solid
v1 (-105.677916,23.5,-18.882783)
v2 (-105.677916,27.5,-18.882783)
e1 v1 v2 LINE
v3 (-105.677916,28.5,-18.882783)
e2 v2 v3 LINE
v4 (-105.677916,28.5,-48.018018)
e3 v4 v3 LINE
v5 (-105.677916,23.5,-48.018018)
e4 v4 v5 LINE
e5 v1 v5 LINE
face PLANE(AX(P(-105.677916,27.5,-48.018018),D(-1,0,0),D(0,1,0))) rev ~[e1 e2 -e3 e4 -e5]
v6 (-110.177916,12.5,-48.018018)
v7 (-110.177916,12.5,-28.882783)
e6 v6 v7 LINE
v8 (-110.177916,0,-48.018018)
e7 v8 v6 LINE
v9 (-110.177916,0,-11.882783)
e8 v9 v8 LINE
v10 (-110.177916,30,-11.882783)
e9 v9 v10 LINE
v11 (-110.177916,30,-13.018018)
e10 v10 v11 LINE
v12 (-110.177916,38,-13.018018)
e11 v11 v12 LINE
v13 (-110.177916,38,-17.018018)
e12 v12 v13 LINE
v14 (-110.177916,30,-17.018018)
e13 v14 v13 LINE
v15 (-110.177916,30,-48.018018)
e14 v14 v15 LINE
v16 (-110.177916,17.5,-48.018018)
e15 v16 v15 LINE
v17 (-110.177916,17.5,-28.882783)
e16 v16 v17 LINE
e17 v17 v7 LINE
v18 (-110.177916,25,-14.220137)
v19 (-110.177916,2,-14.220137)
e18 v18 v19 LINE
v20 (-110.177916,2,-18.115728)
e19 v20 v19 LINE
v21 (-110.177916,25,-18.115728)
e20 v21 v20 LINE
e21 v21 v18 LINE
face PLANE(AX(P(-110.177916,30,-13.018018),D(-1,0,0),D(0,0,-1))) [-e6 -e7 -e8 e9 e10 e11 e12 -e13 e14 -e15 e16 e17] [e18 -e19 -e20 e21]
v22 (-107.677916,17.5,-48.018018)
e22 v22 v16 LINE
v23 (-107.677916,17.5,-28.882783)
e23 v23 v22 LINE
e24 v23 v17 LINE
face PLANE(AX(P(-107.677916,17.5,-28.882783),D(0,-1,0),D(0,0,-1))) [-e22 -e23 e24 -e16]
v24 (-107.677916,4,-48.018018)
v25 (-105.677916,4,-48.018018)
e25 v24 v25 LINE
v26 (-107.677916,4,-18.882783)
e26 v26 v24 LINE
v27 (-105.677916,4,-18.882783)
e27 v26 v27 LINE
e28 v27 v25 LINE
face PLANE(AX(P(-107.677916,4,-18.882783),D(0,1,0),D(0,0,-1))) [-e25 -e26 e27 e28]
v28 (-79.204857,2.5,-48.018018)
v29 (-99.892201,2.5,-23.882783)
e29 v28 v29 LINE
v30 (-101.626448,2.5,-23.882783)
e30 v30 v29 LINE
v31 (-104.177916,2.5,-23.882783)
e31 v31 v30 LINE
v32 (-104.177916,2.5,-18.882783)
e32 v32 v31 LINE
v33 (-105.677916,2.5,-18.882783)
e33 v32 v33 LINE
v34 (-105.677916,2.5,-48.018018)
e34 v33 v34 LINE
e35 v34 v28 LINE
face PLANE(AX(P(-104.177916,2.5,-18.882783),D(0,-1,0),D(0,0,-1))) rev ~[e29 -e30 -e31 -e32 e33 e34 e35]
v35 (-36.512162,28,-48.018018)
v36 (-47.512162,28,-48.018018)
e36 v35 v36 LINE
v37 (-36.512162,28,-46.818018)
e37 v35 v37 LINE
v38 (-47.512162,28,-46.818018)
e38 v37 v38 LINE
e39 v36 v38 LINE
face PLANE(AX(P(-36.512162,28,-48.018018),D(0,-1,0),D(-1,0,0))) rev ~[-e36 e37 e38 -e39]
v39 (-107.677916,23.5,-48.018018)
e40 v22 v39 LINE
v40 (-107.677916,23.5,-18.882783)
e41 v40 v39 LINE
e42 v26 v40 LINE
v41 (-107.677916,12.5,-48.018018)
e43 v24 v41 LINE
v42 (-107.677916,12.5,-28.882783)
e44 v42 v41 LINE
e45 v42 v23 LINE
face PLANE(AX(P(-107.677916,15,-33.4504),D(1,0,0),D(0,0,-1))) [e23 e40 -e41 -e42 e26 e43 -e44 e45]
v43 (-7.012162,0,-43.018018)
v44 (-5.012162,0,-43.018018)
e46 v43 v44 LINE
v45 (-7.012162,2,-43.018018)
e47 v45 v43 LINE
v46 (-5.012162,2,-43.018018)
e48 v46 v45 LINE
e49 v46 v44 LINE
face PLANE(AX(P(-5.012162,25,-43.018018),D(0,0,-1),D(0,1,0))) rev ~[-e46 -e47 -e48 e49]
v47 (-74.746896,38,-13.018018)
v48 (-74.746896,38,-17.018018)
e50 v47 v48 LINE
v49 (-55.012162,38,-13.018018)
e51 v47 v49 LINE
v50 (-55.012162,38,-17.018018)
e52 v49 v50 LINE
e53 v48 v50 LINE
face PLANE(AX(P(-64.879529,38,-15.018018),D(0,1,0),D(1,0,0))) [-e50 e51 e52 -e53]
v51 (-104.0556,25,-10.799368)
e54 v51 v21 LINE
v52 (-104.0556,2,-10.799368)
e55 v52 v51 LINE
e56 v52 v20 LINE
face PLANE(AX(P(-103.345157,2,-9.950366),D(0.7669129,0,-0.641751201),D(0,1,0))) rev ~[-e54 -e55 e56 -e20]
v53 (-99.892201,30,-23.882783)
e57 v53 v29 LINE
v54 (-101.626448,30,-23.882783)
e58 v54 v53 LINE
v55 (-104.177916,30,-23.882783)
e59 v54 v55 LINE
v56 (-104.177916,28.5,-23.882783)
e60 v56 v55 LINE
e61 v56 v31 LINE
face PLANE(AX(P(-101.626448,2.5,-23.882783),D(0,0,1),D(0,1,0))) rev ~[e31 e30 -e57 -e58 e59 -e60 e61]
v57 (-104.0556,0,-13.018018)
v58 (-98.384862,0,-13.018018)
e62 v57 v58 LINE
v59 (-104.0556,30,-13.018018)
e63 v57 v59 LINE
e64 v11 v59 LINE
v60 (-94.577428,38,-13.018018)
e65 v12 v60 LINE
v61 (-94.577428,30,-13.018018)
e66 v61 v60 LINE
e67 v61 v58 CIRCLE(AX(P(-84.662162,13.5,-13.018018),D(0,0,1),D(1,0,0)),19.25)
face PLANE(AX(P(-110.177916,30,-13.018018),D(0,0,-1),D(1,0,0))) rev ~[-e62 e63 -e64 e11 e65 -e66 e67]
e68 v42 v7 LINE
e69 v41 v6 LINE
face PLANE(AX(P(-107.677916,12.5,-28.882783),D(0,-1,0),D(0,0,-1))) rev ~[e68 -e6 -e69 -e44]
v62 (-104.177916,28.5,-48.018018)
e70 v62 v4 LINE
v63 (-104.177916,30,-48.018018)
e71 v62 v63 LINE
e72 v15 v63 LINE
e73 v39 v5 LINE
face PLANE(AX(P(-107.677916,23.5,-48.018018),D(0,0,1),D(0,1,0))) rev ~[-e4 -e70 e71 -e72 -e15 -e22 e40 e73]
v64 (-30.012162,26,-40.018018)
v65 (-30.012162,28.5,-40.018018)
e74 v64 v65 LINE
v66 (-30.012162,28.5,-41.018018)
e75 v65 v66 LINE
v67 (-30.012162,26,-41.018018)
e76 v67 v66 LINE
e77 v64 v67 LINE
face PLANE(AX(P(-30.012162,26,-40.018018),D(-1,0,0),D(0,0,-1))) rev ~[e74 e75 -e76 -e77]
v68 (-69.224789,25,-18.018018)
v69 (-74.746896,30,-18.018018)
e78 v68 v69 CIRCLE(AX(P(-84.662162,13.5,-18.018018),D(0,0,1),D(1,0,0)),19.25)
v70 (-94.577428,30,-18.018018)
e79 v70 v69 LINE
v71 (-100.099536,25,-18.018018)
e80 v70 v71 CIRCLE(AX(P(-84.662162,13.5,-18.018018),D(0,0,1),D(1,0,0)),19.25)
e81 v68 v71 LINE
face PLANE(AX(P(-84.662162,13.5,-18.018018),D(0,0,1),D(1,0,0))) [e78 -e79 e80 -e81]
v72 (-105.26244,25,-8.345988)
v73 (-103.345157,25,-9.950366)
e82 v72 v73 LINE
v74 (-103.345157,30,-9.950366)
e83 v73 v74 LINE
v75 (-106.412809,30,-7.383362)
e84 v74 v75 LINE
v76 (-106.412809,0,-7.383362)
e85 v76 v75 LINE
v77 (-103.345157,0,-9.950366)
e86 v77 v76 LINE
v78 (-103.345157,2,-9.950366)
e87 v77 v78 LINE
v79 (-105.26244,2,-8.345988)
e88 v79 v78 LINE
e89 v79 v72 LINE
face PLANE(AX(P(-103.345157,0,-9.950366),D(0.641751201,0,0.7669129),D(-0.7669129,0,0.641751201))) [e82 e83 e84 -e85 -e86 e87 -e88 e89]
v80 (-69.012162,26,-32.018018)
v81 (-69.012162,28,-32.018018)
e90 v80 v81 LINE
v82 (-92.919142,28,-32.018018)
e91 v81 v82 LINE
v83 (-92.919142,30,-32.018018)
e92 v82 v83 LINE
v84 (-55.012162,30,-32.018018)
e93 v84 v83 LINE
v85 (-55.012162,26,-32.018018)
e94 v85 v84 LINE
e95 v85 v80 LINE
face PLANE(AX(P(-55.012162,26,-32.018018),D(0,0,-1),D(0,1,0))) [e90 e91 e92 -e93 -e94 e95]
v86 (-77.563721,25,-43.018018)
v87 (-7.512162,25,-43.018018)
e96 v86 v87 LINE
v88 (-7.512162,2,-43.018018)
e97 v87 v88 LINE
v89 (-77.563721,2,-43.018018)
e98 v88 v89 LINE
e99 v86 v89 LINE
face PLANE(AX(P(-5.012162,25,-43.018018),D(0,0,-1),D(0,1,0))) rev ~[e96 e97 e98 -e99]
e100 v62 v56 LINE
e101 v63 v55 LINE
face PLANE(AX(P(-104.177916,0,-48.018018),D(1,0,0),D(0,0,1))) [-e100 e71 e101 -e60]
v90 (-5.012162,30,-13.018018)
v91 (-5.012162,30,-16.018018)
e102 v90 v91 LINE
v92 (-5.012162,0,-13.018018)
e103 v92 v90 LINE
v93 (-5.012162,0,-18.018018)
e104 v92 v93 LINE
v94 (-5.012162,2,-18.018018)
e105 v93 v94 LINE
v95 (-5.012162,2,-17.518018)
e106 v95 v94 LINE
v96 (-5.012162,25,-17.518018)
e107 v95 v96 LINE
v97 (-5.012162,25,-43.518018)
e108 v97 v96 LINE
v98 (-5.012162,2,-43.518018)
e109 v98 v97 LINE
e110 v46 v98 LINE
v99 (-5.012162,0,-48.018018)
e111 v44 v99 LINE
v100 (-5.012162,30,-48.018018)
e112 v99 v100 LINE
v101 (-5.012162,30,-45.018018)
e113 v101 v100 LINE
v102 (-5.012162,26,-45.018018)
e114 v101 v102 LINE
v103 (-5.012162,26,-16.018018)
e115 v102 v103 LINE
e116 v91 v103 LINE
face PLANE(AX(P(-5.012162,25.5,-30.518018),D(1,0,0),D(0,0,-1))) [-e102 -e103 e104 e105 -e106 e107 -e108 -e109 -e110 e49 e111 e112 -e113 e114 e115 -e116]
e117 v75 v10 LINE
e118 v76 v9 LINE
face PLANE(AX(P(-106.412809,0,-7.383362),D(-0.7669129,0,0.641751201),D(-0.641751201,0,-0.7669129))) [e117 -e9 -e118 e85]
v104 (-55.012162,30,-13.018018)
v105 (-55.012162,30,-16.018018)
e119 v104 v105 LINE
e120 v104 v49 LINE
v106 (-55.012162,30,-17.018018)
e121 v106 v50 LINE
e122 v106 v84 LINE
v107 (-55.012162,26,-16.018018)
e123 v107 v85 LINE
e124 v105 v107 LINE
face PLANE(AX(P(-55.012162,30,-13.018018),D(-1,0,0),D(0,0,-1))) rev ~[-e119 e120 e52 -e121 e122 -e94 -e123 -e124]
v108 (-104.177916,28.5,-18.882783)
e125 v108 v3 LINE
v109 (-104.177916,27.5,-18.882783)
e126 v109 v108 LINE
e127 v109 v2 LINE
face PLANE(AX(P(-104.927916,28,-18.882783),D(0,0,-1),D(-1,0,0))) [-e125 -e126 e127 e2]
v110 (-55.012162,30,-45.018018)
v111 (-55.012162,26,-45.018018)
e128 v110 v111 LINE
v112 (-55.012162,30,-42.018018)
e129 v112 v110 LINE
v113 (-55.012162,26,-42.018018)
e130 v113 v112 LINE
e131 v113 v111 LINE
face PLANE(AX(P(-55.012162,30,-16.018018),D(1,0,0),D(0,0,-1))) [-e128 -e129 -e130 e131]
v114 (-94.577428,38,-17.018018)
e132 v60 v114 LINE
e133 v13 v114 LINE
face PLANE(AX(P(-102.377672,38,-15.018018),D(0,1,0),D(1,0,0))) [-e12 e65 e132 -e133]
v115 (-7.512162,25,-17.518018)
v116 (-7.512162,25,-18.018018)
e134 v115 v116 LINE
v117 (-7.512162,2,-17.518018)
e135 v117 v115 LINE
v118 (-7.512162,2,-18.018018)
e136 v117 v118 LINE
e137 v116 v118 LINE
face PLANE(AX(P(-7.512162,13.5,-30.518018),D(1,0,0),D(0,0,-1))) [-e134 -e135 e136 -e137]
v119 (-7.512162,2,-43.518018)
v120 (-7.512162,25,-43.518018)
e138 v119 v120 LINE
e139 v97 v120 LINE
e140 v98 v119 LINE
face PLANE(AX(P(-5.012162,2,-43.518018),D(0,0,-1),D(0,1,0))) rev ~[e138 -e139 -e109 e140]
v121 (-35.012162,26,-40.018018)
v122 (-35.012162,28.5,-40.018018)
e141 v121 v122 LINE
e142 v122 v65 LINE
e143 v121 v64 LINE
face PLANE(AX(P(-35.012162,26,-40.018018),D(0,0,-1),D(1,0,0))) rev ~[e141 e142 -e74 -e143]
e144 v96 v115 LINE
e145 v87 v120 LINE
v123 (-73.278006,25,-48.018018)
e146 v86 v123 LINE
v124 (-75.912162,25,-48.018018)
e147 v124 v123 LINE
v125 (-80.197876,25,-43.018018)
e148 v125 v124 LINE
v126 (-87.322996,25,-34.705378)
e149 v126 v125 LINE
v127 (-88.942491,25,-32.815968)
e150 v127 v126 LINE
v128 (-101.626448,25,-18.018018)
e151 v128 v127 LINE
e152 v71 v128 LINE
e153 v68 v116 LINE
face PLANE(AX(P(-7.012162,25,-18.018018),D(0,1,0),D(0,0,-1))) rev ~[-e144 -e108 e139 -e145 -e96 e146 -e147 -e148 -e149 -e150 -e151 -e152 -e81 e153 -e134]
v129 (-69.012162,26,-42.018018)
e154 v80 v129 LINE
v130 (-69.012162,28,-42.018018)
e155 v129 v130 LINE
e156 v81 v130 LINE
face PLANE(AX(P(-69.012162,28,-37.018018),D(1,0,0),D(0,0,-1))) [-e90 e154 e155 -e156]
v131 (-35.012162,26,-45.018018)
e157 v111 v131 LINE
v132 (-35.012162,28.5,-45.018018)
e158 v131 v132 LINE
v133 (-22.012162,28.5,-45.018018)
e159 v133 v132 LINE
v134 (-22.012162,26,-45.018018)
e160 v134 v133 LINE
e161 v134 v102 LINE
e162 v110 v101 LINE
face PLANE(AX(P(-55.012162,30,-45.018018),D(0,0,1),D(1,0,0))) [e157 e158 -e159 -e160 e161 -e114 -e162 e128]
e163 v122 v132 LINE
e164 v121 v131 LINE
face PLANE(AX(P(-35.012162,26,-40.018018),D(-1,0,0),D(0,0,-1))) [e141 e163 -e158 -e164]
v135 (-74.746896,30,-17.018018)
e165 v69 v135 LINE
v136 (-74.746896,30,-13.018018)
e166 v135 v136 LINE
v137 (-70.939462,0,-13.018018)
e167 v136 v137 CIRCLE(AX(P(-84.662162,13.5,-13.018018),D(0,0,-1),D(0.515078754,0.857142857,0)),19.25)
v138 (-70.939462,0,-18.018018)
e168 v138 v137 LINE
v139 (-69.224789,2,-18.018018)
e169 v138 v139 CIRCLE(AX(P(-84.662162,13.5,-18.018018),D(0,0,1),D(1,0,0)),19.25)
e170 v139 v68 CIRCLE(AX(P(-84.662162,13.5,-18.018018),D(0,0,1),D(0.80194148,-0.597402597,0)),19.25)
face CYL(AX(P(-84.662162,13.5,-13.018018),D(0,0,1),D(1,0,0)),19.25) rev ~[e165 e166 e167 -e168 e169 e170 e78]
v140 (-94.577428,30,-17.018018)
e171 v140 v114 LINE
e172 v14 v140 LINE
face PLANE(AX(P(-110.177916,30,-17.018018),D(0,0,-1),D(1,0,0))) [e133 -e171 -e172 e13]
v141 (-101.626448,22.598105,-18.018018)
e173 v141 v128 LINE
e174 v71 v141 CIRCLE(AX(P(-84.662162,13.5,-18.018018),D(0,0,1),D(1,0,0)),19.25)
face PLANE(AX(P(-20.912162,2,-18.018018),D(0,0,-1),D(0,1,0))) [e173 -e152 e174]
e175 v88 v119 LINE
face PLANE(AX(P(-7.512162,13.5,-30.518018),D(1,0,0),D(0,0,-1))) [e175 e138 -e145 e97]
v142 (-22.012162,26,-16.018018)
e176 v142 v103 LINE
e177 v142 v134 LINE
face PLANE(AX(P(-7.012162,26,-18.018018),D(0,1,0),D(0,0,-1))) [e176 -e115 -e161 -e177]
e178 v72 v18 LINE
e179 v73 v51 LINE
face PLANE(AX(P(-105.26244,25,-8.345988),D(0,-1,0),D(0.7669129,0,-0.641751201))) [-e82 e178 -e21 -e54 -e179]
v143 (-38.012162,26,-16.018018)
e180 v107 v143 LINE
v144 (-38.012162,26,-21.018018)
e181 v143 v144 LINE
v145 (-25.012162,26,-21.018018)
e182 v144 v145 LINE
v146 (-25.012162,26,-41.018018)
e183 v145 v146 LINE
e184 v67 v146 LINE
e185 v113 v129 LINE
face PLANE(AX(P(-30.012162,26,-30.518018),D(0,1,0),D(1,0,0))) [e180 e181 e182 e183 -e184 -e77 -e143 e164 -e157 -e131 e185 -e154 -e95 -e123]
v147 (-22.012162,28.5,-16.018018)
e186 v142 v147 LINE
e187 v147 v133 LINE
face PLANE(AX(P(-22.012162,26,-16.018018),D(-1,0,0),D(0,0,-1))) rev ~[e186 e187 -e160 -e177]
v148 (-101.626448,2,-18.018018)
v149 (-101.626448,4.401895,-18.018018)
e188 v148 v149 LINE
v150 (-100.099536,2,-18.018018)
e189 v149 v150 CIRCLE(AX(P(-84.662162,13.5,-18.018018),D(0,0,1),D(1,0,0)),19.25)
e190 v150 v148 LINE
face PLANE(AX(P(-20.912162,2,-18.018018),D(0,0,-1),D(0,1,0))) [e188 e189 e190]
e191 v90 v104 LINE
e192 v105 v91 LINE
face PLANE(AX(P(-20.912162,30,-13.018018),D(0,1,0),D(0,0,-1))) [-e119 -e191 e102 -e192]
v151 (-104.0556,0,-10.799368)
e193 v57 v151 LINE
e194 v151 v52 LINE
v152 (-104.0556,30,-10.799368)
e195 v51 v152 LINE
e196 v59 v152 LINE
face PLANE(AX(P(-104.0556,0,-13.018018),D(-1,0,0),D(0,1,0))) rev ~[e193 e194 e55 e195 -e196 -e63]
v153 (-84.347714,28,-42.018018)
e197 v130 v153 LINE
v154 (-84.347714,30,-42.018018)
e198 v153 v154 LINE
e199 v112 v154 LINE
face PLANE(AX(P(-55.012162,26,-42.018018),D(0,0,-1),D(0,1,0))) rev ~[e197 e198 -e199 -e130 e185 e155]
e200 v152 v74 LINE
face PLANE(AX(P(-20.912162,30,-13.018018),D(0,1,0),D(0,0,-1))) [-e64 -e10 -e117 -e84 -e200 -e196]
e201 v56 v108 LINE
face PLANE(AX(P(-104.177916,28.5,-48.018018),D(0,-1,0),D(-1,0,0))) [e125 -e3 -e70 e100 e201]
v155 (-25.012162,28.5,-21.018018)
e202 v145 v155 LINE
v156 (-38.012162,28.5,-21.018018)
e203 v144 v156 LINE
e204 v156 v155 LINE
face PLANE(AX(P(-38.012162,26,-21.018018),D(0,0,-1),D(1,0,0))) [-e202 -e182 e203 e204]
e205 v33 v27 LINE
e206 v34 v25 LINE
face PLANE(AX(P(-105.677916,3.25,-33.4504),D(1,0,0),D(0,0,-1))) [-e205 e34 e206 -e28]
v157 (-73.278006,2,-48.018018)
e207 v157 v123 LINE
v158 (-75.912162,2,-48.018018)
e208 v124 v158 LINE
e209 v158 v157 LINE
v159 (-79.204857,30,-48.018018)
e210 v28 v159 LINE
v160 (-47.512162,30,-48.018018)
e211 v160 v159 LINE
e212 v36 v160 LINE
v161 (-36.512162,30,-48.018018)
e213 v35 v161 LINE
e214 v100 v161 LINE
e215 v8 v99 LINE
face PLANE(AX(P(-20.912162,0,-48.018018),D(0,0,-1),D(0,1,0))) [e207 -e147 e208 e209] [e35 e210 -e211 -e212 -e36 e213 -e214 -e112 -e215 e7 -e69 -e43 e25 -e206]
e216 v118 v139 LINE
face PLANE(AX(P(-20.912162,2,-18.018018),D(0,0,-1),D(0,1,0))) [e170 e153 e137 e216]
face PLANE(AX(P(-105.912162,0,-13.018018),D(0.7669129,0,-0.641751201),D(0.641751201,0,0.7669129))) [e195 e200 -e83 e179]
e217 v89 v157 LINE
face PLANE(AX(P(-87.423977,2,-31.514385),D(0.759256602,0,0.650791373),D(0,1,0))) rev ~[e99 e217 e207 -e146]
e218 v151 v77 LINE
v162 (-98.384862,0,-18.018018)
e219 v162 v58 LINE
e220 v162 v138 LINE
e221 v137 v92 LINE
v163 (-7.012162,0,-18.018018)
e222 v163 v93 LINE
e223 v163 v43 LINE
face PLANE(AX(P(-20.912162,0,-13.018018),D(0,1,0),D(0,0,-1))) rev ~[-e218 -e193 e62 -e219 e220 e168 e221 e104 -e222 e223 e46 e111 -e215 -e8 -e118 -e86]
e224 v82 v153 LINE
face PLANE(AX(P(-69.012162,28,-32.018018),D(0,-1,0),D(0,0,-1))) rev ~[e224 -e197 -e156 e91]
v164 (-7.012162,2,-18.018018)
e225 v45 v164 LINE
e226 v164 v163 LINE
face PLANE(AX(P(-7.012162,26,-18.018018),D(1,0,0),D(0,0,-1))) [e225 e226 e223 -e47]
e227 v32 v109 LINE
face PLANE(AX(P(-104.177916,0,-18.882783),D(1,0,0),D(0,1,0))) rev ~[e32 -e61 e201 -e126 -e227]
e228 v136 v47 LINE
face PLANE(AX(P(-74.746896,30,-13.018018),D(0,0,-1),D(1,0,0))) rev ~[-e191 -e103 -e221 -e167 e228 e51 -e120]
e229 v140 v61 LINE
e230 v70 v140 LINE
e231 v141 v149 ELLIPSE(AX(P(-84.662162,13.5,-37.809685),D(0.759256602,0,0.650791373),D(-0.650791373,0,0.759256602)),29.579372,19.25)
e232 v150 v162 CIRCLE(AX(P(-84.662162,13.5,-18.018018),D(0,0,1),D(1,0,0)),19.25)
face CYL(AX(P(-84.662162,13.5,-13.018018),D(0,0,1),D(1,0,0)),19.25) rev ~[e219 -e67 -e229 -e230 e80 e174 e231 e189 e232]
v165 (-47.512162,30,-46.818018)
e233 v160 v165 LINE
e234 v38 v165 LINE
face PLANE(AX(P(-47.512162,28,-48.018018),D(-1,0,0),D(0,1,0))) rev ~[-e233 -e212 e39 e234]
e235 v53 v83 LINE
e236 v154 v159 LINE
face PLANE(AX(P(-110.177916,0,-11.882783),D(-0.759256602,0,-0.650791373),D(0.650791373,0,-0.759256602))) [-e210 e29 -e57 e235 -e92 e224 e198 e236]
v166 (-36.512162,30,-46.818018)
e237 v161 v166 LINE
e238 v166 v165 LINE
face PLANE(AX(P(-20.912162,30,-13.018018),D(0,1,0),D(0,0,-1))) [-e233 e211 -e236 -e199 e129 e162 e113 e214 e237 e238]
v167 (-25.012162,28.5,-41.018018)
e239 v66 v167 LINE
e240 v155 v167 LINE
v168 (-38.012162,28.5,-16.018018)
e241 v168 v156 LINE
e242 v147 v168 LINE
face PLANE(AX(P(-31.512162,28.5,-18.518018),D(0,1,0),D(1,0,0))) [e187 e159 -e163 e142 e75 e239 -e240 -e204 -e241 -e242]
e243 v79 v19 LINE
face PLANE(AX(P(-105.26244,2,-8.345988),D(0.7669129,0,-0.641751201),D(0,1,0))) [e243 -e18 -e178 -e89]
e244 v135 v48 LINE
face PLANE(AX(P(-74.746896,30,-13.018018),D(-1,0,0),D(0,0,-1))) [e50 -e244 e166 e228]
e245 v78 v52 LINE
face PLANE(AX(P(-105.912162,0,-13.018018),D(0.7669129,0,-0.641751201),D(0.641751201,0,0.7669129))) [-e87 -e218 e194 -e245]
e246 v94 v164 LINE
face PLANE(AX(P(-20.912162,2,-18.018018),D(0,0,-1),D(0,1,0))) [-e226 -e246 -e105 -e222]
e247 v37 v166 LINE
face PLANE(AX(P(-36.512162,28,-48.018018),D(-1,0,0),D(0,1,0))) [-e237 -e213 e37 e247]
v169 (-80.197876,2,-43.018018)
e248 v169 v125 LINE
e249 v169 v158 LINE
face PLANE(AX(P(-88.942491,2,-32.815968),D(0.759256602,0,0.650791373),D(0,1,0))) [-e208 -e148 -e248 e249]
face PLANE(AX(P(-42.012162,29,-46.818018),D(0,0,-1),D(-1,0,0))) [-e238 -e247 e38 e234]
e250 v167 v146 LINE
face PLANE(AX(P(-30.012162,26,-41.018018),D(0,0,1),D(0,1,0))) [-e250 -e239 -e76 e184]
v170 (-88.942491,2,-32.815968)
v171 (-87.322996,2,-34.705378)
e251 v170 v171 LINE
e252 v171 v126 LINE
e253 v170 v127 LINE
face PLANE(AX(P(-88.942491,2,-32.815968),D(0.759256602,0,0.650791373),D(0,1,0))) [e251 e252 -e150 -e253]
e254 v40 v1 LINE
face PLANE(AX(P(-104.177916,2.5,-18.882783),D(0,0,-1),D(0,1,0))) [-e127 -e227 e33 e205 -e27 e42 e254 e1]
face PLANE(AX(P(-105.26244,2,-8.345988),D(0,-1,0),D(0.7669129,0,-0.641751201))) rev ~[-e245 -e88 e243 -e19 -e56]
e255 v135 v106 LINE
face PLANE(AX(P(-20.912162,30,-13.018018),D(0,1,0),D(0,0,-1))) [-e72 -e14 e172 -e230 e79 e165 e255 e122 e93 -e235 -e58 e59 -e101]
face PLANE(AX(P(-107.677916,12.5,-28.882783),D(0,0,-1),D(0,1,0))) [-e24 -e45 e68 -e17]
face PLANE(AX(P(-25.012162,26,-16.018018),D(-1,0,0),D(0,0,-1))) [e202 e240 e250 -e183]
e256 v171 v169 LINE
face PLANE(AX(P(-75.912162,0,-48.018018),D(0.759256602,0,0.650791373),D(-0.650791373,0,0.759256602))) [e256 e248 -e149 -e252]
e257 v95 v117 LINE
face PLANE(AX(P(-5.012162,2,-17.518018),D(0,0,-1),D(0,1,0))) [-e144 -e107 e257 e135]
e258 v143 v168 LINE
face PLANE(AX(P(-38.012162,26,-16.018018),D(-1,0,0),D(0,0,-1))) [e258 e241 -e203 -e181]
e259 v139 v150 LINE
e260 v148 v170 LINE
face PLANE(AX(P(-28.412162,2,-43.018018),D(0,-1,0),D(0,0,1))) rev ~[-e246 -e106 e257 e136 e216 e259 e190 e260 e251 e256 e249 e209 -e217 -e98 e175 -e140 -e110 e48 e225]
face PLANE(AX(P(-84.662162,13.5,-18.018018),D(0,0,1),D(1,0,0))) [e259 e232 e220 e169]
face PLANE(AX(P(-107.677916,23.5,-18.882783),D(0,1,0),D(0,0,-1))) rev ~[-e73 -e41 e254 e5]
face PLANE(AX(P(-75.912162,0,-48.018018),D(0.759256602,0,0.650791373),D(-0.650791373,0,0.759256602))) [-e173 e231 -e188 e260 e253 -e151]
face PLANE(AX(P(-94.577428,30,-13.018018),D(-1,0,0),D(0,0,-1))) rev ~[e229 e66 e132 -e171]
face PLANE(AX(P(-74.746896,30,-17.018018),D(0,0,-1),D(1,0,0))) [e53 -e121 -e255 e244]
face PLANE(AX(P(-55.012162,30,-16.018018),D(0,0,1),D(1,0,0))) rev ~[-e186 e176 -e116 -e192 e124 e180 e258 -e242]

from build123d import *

# Parameters (mm, degrees)
BOSS_EXTRUDE3_DEPTH       = 30
SKETCH6_W                 = 25
SKETCH6_H                 = 23
CUT_EXTRUDE1_DEPTH        = 86
SKETCH7_W                 = 25
SKETCH7_H                 = 5
CUT_EXTRUDE2_DEPTH        = 7.5
SKETCH8_W                 = 25
SKETCH8_H                 = 2
CUT_EXTRUDE3_DEPTH        = 1
SKETCH9_R                 = 19.25
CUT_EXTRUDE4_DEPTH        = 5
BOSS_EXTRUDE4_DEPTH       = 30
SKETCH10_W                = 1.856561782
SKETCH10_H                = 30
BOSS_EXTRUDE5_DEPTH       = 3
BOSS_EXTRUDE6_DEPTH       = 30
SKETCH11_W                = 2.5
SKETCH11_H                = 23
CUT_EXTRUDE5_DEPTH        = 34.579503854
SKETCH12_W                = 29.135235428
SKETCH12_H                = 25
CUT_EXTRUDE6_DEPTH        = 3.5
SKETCH13_W                = 19.135235428
SKETCH13_H                = 5
CUT_EXTRUDE7_DEPTH        = 3.5
SKETCH14_W                = 29.135235428
SKETCH14_H                = 4
BOSS_EXTRUDE7_DEPTH       = 2
SKETCH16_W                = 29.135235428
SKETCH16_H                = 1.5
BOSS_EXTRUDE8_DEPTH       = 2
SKETCH17_W                = 2.551467674
SKETCH17_H                = 30
BOSS_EXTRUDE9_DEPTH       = 5
BOSS_EXTRUDE10_REACH      = 85.266
SKETCH18_W                = 29.135235428
SKETCH18_H                = 2.5
SKETCH19_W                = 2.48850009
SKETCH19_H                = 23
BOSS_EXTRUDE11_DEPTH      = 2
CUT_EXTRUDE8_START        = -2.4885
SKETCH20_W                = 2
SKETCH20_H                = 23
CUT_EXTRUDE8_DEPTH        = 21.736568
BOSS_EXTRUDE12_REACH      = 82.714
SKETCH21_W                = 2.023287715
SKETCH21_H                = 27.5
SKETCH22_W                = 35
SKETCH22_H                = 30
BOSS_EXTRUDE13_DEPTH      = 15.9
BOSS_EXTRUDE13_DEPTH_BACK = 7.5
SKETCH23_W                = 25
SKETCH23_H                = 23
CUT_EXTRUDE9_DEPTH        = 24.4
SKETCH24_W                = 25
SKETCH24_H                = 5
CUT_EXTRUDE10_DEPTH       = 2
SKETCH25_W                = 50
SKETCH25_H                = 29
CUT_EXTRUDE11_DEPTH       = 4
SKETCH26_W                = 3
SKETCH26_H                = 29
BOSS_EXTRUDE14_DEPTH      = 2.5
SKETCH27_W                = 5
SKETCH27_H                = 5
BOSS_EXTRUDE15_DEPTH      = 2.5
BOSS_EXTRUDE16_REACH      = 27
SKETCH28_W                = 4
SKETCH28_H                = 2.5
SKETCH29_W                = 13
SKETCH29_H                = 5
BOSS_EXTRUDE17_DEPTH      = 2.5
SKETCH30_W                = 10
SKETCH30_H                = 4
CUT_EXTRUDE12_DEPTH       = 14
CUT_EXTRUDE13_REACH       = 43.166
SKETCH31_W                = 10
SKETCH31_H                = 2
SKETCH32_W                = 2
SKETCH32_H                = 25
CUT_EXTRUDE14_DEPTH       = 27
SKETCH33_W                = 19.734733993
SKETCH33_H                = 4
BOSS_EXTRUDE18_DEPTH      = 8
SKETCH34_W                = 15.60048738
SKETCH34_H                = 4
BOSS_EXTRUDE19_DEPTH      = 8
SKETCH35_W                = 26
SKETCH35_H                = 23
CUT_EXTRUDE15_DEPTH       = 2.5
SKETCH36_W                = 25
SKETCH36_H                = 1
BOSS_EXTRUDE20_DEPTH      = 2
SKETCH39_W                = 1.5
SKETCH39_H                = 1
CUT_EXTRUDE16_DEPTH       = 29.135235
SKETCH42_W                = 11
SKETCH42_H                = 2
CUT_EXTRUDE17_DEPTH       = 1.2


with BuildPart() as part:
    # Sketch2 → Boss-Extrude3 (new body)
    with BuildSketch(Plane(origin=(0, 0, 0), x_dir=(1, 0, 0), z_dir=(0, 1, 0))):
        Polygon((-105.912162162, 13.018018018), (-20.912162162, 13.018018018), (-20.912162162, 48.018018018), (-75.912162162, 48.018018018), align=None)
    extrude(amount=BOSS_EXTRUDE3_DEPTH)

    # Sketch6 → Cut-Extrude1 (cut, through all)
    with BuildSketch(Plane(origin=(-20.912162162, 0, 0), x_dir=(0, 0, -1), z_dir=(1, 0, 0))):
        with Locations((30.518018018, 13.5)):
            Rectangle(SKETCH6_W, SKETCH6_H)
    extrude(amount=-CUT_EXTRUDE1_DEPTH, mode=Mode.SUBTRACT)

    # Sketch7 → Cut-Extrude2 (cut)
    with BuildSketch(Plane(origin=(-20.912162162, 0, 0), x_dir=(0, 0, -1), z_dir=(1, 0, 0))):
        with Locations((30.518018018, 27.5)):
            Rectangle(SKETCH7_W, SKETCH7_H)
    extrude(amount=-CUT_EXTRUDE2_DEPTH, mode=Mode.SUBTRACT)

    # Sketch8 → Cut-Extrude3 (cut)
    with BuildSketch(Plane(origin=(-20.912162162, 0, 0), x_dir=(0, 0, -1), z_dir=(1, 0, 0))):
        with Locations((30.518018018, 1)):
            Rectangle(SKETCH8_W, SKETCH8_H)
    extrude(amount=-CUT_EXTRUDE3_DEPTH, mode=Mode.SUBTRACT)

    # Sketch9 → Cut-Extrude4 (cut)
    with BuildSketch(Plane.XY.offset(-13.018018018)):
        with Locations((-84.662162162, 13.5)):
            Circle(SKETCH9_R)
    extrude(amount=-CUT_EXTRUDE4_DEPTH, mode=Mode.SUBTRACT)

    # Sketch3 → Boss-Extrude4 (add)
    with BuildSketch(Plane(origin=(0, 0, 0), x_dir=(1, 0, 0), z_dir=(0, 1, 0))):
        Polygon((-106.412808957, 7.383361614), (-110.17791555, 11.88278259), (-79.204856611, 48.018018018), (-75.912162162, 48.018018018), (-105.912162162, 13.018018018), (-103.345157358, 9.950366419), align=None)
    extrude(amount=BOSS_EXTRUDE4_DEPTH)

    # Sketch10 → Boss-Extrude5 (add)
    with BuildSketch(Plane.XY.offset(-13.018018018)):
        with Locations((-104.983881271, 15)):
            Rectangle(SKETCH10_W, SKETCH10_H)
    extrude(amount=BOSS_EXTRUDE5_DEPTH)

    # Sketch4 → Boss-Extrude6 (add)
    with BuildSketch(Plane(origin=(0, 0, 0), x_dir=(1, 0, 0), z_dir=(0, 1, 0))):
        Polygon((-110.17791555, 11.88278259), (-110.17791555, 48.018018018), (-104.17791555, 48.018018018), (-104.17791555, 18.88278259), align=None)
    extrude(amount=BOSS_EXTRUDE6_DEPTH)

    # Sketch11 → Cut-Extrude5 (cut, through all)
    with BuildSketch(Plane(origin=(-47.459390138, 0, -56.715466139), x_dir=(0.7669129, 0, -0.641751201), z_dir=(0.641751201, 0, 0.7669129))):
        with Locations((-74.121074711, 13.5)):
            Rectangle(SKETCH11_W, SKETCH11_H)
    extrude(amount=-CUT_EXTRUDE5_DEPTH, mode=Mode.SUBTRACT)

    # Sketch12 → Cut-Extrude6 (cut)
    with BuildSketch(Plane(origin=(-104.17791555, 0, 0), x_dir=(0, 0, -1), z_dir=(1, 0, 0))):
        with Locations((33.450400304, 15)):
            Rectangle(SKETCH12_W, SKETCH12_H)
    extrude(amount=-CUT_EXTRUDE6_DEPTH, mode=Mode.SUBTRACT)

    # Sketch13 → Cut-Extrude7 (cut, through all)
    with BuildSketch(Plane(origin=(-107.67791555, 0, 0), x_dir=(0, 0, -1), z_dir=(1, 0, 0))):
        with Locations((38.450400304, 15)):
            Rectangle(SKETCH13_W, SKETCH13_H)
    extrude(amount=-CUT_EXTRUDE7_DEPTH, mode=Mode.SUBTRACT)

    # Sketch14 → Boss-Extrude7 (add)
    with BuildSketch(Plane(origin=(-107.67791555, 0, 0), x_dir=(0, 0, -1), z_dir=(1, 0, 0))):
        with Locations((33.450400304, 25.5)):
            Rectangle(SKETCH14_W, SKETCH14_H)
    extrude(amount=BOSS_EXTRUDE7_DEPTH)

    # Sketch16 → Boss-Extrude8 (add)
    with BuildSketch(Plane(origin=(-107.67791555, 0, 0), x_dir=(0, 0, -1), z_dir=(1, 0, 0))):
        with Locations((33.450400304, 3.25)):
            Rectangle(SKETCH16_W, SKETCH16_H)
    extrude(amount=BOSS_EXTRUDE8_DEPTH)

    # Sketch17 → Boss-Extrude9 (add)
    with BuildSketch(Plane(origin=(0, 0, -18.88278259), x_dir=(-1, 0, 0), z_dir=(0, 0, -1))):
        with Locations((102.902181713, 15)):
            Rectangle(SKETCH17_W, SKETCH17_H)
    extrude(amount=BOSS_EXTRUDE9_DEPTH)

    # Boss-Extrude10: up to this face of the body (flat: up to its plane)
    boss_extrude10_end = Plane(part.part.faces().sort_by_distance((-90.415652244, 15, -34.938756447))[0])
    # Sketch18 → Boss-Extrude10 (add, up to the picked face)
    with BuildSketch(Plane(origin=(-104.17791555, 0, 0), x_dir=(0, 0, -1), z_dir=(1, 0, 0)), mode=Mode.PRIVATE) as boss_extrude10_sk1:
        with Locations((33.450400304, 1.25)):
            Rectangle(SKETCH18_W, SKETCH18_H)
    boss_extrude10_tool1 = split(extrude(boss_extrude10_sk1.sketch, amount=BOSS_EXTRUDE10_REACH, mode=Mode.PRIVATE), bisect_by=boss_extrude10_end, keep=Keep.BOTH, mode=Mode.PRIVATE)
    add(boss_extrude10_tool1.solids().sort_by_distance((-104.177916, 1.25, -33.4504))[0])

    # Sketch19 → Boss-Extrude11 (add)
    with BuildSketch(Plane(origin=(-67.487678855, 0, -57.846581876), x_dir=(0.650791373, 0, -0.759256602), z_dir=(0.759256602, 0, 0.650791373))):
        with Locations((-31.723015124, 13.5)):
            Rectangle(SKETCH19_W, SKETCH19_H)
    extrude(amount=BOSS_EXTRUDE11_DEPTH)

    # Sketch20 → Cut-Extrude8 (cut)
    with BuildSketch(Plane(origin=(-19.835317387, 0, 23.141203618), x_dir=(-0.759256602, 0, -0.650791373), z_dir=(0.650791373, 0, -0.759256602)).offset(CUT_EXTRUDE8_START)):
        with Locations((87.886522218, 13.5)):
            Rectangle(SKETCH20_W, SKETCH20_H)
    extrude(amount=CUT_EXTRUDE8_DEPTH, mode=Mode.SUBTRACT)

    # Boss-Extrude12: up to this face of the body (flat: up to its plane)
    boss_extrude12_end = Plane(part.part.faces().sort_by_distance((-90.415652244, 16.25, -34.938756447))[0])
    # Sketch21 → Boss-Extrude12 (add, up to the picked face)
    with BuildSketch(Plane(origin=(-101.626447876, 0, 0), x_dir=(0, 0, -1), z_dir=(1, 0, 0)), mode=Mode.PRIVATE) as boss_extrude12_sk1:
        with Locations((22.871138733, 16.25)):
            Rectangle(SKETCH21_W, SKETCH21_H)
    boss_extrude12_tool1 = split(extrude(boss_extrude12_sk1.sketch, amount=BOSS_EXTRUDE12_REACH, mode=Mode.PRIVATE), bisect_by=boss_extrude12_end, keep=Keep.BOTH, mode=Mode.PRIVATE)
    add(boss_extrude12_tool1.solids().sort_by_distance((-101.626448, 16.25, -22.871139))[0])

    # Sketch22 → Boss-Extrude13 (add, two sides)
    with BuildSketch(Plane(origin=(-20.912162162, 0, 0), x_dir=(0, 0, -1), z_dir=(1, 0, 0))) as boss_extrude13_sk:
        with Locations((30.518018018, 15)):
            Rectangle(SKETCH22_W, SKETCH22_H)
    extrude(amount=BOSS_EXTRUDE13_DEPTH)
    extrude(boss_extrude13_sk.sketch, amount=-BOSS_EXTRUDE13_DEPTH_BACK)

    # Sketch23 → Cut-Extrude9 (cut, through all)
    with BuildSketch(Plane.ZY.offset(28.412162162)):
        with Locations((-30.518018018, 13.5)):
            Rectangle(SKETCH23_W, SKETCH23_H)
    extrude(amount=-CUT_EXTRUDE9_DEPTH, mode=Mode.SUBTRACT)

    # Sketch24 → Cut-Extrude10 (cut)
    with BuildSketch(Plane(origin=(-5.012162162, 0, 0), x_dir=(0, 0, -1), z_dir=(1, 0, 0))):
        with Locations((30.518018018, 27.5)):
            Rectangle(SKETCH24_W, SKETCH24_H)
    extrude(amount=-CUT_EXTRUDE10_DEPTH, mode=Mode.SUBTRACT)

    # Sketch25 → Cut-Extrude11 (cut)
    with BuildSketch(Plane(origin=(0, 30, 0), x_dir=(1, 0, 0), z_dir=(0, 1, 0))):
        with Locations((-30.012162162, 30.518018018)):
            Rectangle(SKETCH25_W, SKETCH25_H)
    extrude(amount=-CUT_EXTRUDE11_DEPTH, mode=Mode.SUBTRACT)

    # Sketch26 → Boss-Extrude14 (add)
    with BuildSketch(Plane(origin=(0, 26, 0), x_dir=(1, 0, 0), z_dir=(0, 1, 0))):
        with Locations((-23.512162162, 30.518018018)):
            Rectangle(SKETCH26_W, SKETCH26_H)
    extrude(amount=BOSS_EXTRUDE14_DEPTH)

    # Sketch27 → Boss-Extrude15 (add)
    with BuildSketch(Plane(origin=(0, 26, 0), x_dir=(1, 0, 0), z_dir=(0, 1, 0))):
        with Locations((-32.512162162, 42.518018018)):
            Rectangle(SKETCH27_W, SKETCH27_H)
    extrude(amount=BOSS_EXTRUDE15_DEPTH)

    # Sketch28 → Boss-Extrude16 (add, up to next)
    with BuildSketch(Plane(origin=(-30.012162162, 0, 0), x_dir=(0, 0, -1), z_dir=(1, 0, 0)), mode=Mode.PRIVATE) as boss_extrude16_sk1:
        with Locations((43.018018018, 27.25)):
            Rectangle(SKETCH28_W, SKETCH28_H)
    boss_extrude16_tool1 = extrude(boss_extrude16_sk1.sketch, amount=BOSS_EXTRUDE16_REACH, mode=Mode.PRIVATE) - part.part
    add(boss_extrude16_tool1.solids().sort_by_distance((-30.012162, 27.25, -43.018018))[0])

    # Sketch29 → Boss-Extrude17 (add)
    with BuildSketch(Plane(origin=(0, 26, 0), x_dir=(1, 0, 0), z_dir=(0, 1, 0))):
        with Locations((-31.512162162, 18.518018018)):
            Rectangle(SKETCH29_W, SKETCH29_H)
    extrude(amount=BOSS_EXTRUDE17_DEPTH)

    # Sketch30 → Cut-Extrude12 (cut)
    with BuildSketch(Plane(origin=(-55.012162162, 0, 0), x_dir=(0, 0, -1), z_dir=(1, 0, 0))):
        with Locations((37.018018018, 28)):
            Rectangle(SKETCH30_W, SKETCH30_H)
    extrude(amount=-CUT_EXTRUDE12_DEPTH, mode=Mode.SUBTRACT)

    # Sketch31 → Cut-Extrude13 (cut, up to next)
    with BuildSketch(Plane(origin=(-69.012162162, 0, 0), x_dir=(0, 0, -1), z_dir=(1, 0, 0)), mode=Mode.PRIVATE) as cut_extrude13_sk1:
        with Locations((37.018018018, 29)):
            Rectangle(SKETCH31_W, SKETCH31_H)
    cut_extrude13_tool1 = extrude(cut_extrude13_sk1.sketch, amount=-CUT_EXTRUDE13_REACH, mode=Mode.PRIVATE) & part.part
    add(cut_extrude13_tool1.solids().sort_by_distance((-69.012162, 29, -37.018018))[0], mode=Mode.SUBTRACT)

    # Sketch32 → Cut-Extrude14 (cut, through all)
    with BuildSketch(Plane(origin=(0, 26, 0), x_dir=(1, 0, 0), z_dir=(0, 1, 0))):
        with Locations((-6.012162162, 30.518018018)):
            Rectangle(SKETCH32_W, SKETCH32_H)
    extrude(amount=-CUT_EXTRUDE14_DEPTH, mode=Mode.SUBTRACT)

    # Sketch33 → Boss-Extrude18 (add)
    with BuildSketch(Plane(origin=(0, 30, 0), x_dir=(1, 0, 0), z_dir=(0, 1, 0))):
        with Locations((-64.879529159, 15.018018018)):
            Rectangle(SKETCH33_W, SKETCH33_H)
    extrude(amount=BOSS_EXTRUDE18_DEPTH)

    # Sketch34 → Boss-Extrude19 (add)
    with BuildSketch(Plane(origin=(0, 30, 0), x_dir=(1, 0, 0), z_dir=(0, 1, 0))):
        with Locations((-102.37767186, 15.018018018)):
            Rectangle(SKETCH34_W, SKETCH34_H)
    extrude(amount=BOSS_EXTRUDE19_DEPTH)

    # Sketch35 → Cut-Extrude15 (cut)
    with BuildSketch(Plane(origin=(-5.012162162, 0, 0), x_dir=(0, 0, -1), z_dir=(1, 0, 0))):
        with Locations((30.518018018, 13.5)):
            Rectangle(SKETCH35_W, SKETCH35_H)
    extrude(amount=-CUT_EXTRUDE15_DEPTH, mode=Mode.SUBTRACT)

    # Sketch36 → Boss-Extrude20 (add)
    with BuildSketch(Plane(origin=(-7.012162162, 0, 0), x_dir=(0, 0, -1), z_dir=(1, 0, 0))):
        with Locations((30.518018018, 25.5)):
            Rectangle(SKETCH36_W, SKETCH36_H)
    extrude(amount=BOSS_EXTRUDE20_DEPTH)

    # Sketch39 → Cut-Extrude16 (cut)
    with BuildSketch(Plane(origin=(0, 0, -48.018018018), x_dir=(-1, 0, 0), z_dir=(0, 0, -1))):
        with Locations((104.92791555, 28)):
            Rectangle(SKETCH39_W, SKETCH39_H)
    extrude(amount=-CUT_EXTRUDE16_DEPTH, mode=Mode.SUBTRACT)

    # Sketch42 → Cut-Extrude17 (cut)
    with BuildSketch(Plane(origin=(0, 0, -48.018018018), x_dir=(-1, 0, 0), z_dir=(0, 0, -1))):
        with Locations((42.012162162, 29)):
            Rectangle(SKETCH42_W, SKETCH42_H)
    extrude(amount=-CUT_EXTRUDE17_DEPTH, mode=Mode.SUBTRACT)


solid = part.part
